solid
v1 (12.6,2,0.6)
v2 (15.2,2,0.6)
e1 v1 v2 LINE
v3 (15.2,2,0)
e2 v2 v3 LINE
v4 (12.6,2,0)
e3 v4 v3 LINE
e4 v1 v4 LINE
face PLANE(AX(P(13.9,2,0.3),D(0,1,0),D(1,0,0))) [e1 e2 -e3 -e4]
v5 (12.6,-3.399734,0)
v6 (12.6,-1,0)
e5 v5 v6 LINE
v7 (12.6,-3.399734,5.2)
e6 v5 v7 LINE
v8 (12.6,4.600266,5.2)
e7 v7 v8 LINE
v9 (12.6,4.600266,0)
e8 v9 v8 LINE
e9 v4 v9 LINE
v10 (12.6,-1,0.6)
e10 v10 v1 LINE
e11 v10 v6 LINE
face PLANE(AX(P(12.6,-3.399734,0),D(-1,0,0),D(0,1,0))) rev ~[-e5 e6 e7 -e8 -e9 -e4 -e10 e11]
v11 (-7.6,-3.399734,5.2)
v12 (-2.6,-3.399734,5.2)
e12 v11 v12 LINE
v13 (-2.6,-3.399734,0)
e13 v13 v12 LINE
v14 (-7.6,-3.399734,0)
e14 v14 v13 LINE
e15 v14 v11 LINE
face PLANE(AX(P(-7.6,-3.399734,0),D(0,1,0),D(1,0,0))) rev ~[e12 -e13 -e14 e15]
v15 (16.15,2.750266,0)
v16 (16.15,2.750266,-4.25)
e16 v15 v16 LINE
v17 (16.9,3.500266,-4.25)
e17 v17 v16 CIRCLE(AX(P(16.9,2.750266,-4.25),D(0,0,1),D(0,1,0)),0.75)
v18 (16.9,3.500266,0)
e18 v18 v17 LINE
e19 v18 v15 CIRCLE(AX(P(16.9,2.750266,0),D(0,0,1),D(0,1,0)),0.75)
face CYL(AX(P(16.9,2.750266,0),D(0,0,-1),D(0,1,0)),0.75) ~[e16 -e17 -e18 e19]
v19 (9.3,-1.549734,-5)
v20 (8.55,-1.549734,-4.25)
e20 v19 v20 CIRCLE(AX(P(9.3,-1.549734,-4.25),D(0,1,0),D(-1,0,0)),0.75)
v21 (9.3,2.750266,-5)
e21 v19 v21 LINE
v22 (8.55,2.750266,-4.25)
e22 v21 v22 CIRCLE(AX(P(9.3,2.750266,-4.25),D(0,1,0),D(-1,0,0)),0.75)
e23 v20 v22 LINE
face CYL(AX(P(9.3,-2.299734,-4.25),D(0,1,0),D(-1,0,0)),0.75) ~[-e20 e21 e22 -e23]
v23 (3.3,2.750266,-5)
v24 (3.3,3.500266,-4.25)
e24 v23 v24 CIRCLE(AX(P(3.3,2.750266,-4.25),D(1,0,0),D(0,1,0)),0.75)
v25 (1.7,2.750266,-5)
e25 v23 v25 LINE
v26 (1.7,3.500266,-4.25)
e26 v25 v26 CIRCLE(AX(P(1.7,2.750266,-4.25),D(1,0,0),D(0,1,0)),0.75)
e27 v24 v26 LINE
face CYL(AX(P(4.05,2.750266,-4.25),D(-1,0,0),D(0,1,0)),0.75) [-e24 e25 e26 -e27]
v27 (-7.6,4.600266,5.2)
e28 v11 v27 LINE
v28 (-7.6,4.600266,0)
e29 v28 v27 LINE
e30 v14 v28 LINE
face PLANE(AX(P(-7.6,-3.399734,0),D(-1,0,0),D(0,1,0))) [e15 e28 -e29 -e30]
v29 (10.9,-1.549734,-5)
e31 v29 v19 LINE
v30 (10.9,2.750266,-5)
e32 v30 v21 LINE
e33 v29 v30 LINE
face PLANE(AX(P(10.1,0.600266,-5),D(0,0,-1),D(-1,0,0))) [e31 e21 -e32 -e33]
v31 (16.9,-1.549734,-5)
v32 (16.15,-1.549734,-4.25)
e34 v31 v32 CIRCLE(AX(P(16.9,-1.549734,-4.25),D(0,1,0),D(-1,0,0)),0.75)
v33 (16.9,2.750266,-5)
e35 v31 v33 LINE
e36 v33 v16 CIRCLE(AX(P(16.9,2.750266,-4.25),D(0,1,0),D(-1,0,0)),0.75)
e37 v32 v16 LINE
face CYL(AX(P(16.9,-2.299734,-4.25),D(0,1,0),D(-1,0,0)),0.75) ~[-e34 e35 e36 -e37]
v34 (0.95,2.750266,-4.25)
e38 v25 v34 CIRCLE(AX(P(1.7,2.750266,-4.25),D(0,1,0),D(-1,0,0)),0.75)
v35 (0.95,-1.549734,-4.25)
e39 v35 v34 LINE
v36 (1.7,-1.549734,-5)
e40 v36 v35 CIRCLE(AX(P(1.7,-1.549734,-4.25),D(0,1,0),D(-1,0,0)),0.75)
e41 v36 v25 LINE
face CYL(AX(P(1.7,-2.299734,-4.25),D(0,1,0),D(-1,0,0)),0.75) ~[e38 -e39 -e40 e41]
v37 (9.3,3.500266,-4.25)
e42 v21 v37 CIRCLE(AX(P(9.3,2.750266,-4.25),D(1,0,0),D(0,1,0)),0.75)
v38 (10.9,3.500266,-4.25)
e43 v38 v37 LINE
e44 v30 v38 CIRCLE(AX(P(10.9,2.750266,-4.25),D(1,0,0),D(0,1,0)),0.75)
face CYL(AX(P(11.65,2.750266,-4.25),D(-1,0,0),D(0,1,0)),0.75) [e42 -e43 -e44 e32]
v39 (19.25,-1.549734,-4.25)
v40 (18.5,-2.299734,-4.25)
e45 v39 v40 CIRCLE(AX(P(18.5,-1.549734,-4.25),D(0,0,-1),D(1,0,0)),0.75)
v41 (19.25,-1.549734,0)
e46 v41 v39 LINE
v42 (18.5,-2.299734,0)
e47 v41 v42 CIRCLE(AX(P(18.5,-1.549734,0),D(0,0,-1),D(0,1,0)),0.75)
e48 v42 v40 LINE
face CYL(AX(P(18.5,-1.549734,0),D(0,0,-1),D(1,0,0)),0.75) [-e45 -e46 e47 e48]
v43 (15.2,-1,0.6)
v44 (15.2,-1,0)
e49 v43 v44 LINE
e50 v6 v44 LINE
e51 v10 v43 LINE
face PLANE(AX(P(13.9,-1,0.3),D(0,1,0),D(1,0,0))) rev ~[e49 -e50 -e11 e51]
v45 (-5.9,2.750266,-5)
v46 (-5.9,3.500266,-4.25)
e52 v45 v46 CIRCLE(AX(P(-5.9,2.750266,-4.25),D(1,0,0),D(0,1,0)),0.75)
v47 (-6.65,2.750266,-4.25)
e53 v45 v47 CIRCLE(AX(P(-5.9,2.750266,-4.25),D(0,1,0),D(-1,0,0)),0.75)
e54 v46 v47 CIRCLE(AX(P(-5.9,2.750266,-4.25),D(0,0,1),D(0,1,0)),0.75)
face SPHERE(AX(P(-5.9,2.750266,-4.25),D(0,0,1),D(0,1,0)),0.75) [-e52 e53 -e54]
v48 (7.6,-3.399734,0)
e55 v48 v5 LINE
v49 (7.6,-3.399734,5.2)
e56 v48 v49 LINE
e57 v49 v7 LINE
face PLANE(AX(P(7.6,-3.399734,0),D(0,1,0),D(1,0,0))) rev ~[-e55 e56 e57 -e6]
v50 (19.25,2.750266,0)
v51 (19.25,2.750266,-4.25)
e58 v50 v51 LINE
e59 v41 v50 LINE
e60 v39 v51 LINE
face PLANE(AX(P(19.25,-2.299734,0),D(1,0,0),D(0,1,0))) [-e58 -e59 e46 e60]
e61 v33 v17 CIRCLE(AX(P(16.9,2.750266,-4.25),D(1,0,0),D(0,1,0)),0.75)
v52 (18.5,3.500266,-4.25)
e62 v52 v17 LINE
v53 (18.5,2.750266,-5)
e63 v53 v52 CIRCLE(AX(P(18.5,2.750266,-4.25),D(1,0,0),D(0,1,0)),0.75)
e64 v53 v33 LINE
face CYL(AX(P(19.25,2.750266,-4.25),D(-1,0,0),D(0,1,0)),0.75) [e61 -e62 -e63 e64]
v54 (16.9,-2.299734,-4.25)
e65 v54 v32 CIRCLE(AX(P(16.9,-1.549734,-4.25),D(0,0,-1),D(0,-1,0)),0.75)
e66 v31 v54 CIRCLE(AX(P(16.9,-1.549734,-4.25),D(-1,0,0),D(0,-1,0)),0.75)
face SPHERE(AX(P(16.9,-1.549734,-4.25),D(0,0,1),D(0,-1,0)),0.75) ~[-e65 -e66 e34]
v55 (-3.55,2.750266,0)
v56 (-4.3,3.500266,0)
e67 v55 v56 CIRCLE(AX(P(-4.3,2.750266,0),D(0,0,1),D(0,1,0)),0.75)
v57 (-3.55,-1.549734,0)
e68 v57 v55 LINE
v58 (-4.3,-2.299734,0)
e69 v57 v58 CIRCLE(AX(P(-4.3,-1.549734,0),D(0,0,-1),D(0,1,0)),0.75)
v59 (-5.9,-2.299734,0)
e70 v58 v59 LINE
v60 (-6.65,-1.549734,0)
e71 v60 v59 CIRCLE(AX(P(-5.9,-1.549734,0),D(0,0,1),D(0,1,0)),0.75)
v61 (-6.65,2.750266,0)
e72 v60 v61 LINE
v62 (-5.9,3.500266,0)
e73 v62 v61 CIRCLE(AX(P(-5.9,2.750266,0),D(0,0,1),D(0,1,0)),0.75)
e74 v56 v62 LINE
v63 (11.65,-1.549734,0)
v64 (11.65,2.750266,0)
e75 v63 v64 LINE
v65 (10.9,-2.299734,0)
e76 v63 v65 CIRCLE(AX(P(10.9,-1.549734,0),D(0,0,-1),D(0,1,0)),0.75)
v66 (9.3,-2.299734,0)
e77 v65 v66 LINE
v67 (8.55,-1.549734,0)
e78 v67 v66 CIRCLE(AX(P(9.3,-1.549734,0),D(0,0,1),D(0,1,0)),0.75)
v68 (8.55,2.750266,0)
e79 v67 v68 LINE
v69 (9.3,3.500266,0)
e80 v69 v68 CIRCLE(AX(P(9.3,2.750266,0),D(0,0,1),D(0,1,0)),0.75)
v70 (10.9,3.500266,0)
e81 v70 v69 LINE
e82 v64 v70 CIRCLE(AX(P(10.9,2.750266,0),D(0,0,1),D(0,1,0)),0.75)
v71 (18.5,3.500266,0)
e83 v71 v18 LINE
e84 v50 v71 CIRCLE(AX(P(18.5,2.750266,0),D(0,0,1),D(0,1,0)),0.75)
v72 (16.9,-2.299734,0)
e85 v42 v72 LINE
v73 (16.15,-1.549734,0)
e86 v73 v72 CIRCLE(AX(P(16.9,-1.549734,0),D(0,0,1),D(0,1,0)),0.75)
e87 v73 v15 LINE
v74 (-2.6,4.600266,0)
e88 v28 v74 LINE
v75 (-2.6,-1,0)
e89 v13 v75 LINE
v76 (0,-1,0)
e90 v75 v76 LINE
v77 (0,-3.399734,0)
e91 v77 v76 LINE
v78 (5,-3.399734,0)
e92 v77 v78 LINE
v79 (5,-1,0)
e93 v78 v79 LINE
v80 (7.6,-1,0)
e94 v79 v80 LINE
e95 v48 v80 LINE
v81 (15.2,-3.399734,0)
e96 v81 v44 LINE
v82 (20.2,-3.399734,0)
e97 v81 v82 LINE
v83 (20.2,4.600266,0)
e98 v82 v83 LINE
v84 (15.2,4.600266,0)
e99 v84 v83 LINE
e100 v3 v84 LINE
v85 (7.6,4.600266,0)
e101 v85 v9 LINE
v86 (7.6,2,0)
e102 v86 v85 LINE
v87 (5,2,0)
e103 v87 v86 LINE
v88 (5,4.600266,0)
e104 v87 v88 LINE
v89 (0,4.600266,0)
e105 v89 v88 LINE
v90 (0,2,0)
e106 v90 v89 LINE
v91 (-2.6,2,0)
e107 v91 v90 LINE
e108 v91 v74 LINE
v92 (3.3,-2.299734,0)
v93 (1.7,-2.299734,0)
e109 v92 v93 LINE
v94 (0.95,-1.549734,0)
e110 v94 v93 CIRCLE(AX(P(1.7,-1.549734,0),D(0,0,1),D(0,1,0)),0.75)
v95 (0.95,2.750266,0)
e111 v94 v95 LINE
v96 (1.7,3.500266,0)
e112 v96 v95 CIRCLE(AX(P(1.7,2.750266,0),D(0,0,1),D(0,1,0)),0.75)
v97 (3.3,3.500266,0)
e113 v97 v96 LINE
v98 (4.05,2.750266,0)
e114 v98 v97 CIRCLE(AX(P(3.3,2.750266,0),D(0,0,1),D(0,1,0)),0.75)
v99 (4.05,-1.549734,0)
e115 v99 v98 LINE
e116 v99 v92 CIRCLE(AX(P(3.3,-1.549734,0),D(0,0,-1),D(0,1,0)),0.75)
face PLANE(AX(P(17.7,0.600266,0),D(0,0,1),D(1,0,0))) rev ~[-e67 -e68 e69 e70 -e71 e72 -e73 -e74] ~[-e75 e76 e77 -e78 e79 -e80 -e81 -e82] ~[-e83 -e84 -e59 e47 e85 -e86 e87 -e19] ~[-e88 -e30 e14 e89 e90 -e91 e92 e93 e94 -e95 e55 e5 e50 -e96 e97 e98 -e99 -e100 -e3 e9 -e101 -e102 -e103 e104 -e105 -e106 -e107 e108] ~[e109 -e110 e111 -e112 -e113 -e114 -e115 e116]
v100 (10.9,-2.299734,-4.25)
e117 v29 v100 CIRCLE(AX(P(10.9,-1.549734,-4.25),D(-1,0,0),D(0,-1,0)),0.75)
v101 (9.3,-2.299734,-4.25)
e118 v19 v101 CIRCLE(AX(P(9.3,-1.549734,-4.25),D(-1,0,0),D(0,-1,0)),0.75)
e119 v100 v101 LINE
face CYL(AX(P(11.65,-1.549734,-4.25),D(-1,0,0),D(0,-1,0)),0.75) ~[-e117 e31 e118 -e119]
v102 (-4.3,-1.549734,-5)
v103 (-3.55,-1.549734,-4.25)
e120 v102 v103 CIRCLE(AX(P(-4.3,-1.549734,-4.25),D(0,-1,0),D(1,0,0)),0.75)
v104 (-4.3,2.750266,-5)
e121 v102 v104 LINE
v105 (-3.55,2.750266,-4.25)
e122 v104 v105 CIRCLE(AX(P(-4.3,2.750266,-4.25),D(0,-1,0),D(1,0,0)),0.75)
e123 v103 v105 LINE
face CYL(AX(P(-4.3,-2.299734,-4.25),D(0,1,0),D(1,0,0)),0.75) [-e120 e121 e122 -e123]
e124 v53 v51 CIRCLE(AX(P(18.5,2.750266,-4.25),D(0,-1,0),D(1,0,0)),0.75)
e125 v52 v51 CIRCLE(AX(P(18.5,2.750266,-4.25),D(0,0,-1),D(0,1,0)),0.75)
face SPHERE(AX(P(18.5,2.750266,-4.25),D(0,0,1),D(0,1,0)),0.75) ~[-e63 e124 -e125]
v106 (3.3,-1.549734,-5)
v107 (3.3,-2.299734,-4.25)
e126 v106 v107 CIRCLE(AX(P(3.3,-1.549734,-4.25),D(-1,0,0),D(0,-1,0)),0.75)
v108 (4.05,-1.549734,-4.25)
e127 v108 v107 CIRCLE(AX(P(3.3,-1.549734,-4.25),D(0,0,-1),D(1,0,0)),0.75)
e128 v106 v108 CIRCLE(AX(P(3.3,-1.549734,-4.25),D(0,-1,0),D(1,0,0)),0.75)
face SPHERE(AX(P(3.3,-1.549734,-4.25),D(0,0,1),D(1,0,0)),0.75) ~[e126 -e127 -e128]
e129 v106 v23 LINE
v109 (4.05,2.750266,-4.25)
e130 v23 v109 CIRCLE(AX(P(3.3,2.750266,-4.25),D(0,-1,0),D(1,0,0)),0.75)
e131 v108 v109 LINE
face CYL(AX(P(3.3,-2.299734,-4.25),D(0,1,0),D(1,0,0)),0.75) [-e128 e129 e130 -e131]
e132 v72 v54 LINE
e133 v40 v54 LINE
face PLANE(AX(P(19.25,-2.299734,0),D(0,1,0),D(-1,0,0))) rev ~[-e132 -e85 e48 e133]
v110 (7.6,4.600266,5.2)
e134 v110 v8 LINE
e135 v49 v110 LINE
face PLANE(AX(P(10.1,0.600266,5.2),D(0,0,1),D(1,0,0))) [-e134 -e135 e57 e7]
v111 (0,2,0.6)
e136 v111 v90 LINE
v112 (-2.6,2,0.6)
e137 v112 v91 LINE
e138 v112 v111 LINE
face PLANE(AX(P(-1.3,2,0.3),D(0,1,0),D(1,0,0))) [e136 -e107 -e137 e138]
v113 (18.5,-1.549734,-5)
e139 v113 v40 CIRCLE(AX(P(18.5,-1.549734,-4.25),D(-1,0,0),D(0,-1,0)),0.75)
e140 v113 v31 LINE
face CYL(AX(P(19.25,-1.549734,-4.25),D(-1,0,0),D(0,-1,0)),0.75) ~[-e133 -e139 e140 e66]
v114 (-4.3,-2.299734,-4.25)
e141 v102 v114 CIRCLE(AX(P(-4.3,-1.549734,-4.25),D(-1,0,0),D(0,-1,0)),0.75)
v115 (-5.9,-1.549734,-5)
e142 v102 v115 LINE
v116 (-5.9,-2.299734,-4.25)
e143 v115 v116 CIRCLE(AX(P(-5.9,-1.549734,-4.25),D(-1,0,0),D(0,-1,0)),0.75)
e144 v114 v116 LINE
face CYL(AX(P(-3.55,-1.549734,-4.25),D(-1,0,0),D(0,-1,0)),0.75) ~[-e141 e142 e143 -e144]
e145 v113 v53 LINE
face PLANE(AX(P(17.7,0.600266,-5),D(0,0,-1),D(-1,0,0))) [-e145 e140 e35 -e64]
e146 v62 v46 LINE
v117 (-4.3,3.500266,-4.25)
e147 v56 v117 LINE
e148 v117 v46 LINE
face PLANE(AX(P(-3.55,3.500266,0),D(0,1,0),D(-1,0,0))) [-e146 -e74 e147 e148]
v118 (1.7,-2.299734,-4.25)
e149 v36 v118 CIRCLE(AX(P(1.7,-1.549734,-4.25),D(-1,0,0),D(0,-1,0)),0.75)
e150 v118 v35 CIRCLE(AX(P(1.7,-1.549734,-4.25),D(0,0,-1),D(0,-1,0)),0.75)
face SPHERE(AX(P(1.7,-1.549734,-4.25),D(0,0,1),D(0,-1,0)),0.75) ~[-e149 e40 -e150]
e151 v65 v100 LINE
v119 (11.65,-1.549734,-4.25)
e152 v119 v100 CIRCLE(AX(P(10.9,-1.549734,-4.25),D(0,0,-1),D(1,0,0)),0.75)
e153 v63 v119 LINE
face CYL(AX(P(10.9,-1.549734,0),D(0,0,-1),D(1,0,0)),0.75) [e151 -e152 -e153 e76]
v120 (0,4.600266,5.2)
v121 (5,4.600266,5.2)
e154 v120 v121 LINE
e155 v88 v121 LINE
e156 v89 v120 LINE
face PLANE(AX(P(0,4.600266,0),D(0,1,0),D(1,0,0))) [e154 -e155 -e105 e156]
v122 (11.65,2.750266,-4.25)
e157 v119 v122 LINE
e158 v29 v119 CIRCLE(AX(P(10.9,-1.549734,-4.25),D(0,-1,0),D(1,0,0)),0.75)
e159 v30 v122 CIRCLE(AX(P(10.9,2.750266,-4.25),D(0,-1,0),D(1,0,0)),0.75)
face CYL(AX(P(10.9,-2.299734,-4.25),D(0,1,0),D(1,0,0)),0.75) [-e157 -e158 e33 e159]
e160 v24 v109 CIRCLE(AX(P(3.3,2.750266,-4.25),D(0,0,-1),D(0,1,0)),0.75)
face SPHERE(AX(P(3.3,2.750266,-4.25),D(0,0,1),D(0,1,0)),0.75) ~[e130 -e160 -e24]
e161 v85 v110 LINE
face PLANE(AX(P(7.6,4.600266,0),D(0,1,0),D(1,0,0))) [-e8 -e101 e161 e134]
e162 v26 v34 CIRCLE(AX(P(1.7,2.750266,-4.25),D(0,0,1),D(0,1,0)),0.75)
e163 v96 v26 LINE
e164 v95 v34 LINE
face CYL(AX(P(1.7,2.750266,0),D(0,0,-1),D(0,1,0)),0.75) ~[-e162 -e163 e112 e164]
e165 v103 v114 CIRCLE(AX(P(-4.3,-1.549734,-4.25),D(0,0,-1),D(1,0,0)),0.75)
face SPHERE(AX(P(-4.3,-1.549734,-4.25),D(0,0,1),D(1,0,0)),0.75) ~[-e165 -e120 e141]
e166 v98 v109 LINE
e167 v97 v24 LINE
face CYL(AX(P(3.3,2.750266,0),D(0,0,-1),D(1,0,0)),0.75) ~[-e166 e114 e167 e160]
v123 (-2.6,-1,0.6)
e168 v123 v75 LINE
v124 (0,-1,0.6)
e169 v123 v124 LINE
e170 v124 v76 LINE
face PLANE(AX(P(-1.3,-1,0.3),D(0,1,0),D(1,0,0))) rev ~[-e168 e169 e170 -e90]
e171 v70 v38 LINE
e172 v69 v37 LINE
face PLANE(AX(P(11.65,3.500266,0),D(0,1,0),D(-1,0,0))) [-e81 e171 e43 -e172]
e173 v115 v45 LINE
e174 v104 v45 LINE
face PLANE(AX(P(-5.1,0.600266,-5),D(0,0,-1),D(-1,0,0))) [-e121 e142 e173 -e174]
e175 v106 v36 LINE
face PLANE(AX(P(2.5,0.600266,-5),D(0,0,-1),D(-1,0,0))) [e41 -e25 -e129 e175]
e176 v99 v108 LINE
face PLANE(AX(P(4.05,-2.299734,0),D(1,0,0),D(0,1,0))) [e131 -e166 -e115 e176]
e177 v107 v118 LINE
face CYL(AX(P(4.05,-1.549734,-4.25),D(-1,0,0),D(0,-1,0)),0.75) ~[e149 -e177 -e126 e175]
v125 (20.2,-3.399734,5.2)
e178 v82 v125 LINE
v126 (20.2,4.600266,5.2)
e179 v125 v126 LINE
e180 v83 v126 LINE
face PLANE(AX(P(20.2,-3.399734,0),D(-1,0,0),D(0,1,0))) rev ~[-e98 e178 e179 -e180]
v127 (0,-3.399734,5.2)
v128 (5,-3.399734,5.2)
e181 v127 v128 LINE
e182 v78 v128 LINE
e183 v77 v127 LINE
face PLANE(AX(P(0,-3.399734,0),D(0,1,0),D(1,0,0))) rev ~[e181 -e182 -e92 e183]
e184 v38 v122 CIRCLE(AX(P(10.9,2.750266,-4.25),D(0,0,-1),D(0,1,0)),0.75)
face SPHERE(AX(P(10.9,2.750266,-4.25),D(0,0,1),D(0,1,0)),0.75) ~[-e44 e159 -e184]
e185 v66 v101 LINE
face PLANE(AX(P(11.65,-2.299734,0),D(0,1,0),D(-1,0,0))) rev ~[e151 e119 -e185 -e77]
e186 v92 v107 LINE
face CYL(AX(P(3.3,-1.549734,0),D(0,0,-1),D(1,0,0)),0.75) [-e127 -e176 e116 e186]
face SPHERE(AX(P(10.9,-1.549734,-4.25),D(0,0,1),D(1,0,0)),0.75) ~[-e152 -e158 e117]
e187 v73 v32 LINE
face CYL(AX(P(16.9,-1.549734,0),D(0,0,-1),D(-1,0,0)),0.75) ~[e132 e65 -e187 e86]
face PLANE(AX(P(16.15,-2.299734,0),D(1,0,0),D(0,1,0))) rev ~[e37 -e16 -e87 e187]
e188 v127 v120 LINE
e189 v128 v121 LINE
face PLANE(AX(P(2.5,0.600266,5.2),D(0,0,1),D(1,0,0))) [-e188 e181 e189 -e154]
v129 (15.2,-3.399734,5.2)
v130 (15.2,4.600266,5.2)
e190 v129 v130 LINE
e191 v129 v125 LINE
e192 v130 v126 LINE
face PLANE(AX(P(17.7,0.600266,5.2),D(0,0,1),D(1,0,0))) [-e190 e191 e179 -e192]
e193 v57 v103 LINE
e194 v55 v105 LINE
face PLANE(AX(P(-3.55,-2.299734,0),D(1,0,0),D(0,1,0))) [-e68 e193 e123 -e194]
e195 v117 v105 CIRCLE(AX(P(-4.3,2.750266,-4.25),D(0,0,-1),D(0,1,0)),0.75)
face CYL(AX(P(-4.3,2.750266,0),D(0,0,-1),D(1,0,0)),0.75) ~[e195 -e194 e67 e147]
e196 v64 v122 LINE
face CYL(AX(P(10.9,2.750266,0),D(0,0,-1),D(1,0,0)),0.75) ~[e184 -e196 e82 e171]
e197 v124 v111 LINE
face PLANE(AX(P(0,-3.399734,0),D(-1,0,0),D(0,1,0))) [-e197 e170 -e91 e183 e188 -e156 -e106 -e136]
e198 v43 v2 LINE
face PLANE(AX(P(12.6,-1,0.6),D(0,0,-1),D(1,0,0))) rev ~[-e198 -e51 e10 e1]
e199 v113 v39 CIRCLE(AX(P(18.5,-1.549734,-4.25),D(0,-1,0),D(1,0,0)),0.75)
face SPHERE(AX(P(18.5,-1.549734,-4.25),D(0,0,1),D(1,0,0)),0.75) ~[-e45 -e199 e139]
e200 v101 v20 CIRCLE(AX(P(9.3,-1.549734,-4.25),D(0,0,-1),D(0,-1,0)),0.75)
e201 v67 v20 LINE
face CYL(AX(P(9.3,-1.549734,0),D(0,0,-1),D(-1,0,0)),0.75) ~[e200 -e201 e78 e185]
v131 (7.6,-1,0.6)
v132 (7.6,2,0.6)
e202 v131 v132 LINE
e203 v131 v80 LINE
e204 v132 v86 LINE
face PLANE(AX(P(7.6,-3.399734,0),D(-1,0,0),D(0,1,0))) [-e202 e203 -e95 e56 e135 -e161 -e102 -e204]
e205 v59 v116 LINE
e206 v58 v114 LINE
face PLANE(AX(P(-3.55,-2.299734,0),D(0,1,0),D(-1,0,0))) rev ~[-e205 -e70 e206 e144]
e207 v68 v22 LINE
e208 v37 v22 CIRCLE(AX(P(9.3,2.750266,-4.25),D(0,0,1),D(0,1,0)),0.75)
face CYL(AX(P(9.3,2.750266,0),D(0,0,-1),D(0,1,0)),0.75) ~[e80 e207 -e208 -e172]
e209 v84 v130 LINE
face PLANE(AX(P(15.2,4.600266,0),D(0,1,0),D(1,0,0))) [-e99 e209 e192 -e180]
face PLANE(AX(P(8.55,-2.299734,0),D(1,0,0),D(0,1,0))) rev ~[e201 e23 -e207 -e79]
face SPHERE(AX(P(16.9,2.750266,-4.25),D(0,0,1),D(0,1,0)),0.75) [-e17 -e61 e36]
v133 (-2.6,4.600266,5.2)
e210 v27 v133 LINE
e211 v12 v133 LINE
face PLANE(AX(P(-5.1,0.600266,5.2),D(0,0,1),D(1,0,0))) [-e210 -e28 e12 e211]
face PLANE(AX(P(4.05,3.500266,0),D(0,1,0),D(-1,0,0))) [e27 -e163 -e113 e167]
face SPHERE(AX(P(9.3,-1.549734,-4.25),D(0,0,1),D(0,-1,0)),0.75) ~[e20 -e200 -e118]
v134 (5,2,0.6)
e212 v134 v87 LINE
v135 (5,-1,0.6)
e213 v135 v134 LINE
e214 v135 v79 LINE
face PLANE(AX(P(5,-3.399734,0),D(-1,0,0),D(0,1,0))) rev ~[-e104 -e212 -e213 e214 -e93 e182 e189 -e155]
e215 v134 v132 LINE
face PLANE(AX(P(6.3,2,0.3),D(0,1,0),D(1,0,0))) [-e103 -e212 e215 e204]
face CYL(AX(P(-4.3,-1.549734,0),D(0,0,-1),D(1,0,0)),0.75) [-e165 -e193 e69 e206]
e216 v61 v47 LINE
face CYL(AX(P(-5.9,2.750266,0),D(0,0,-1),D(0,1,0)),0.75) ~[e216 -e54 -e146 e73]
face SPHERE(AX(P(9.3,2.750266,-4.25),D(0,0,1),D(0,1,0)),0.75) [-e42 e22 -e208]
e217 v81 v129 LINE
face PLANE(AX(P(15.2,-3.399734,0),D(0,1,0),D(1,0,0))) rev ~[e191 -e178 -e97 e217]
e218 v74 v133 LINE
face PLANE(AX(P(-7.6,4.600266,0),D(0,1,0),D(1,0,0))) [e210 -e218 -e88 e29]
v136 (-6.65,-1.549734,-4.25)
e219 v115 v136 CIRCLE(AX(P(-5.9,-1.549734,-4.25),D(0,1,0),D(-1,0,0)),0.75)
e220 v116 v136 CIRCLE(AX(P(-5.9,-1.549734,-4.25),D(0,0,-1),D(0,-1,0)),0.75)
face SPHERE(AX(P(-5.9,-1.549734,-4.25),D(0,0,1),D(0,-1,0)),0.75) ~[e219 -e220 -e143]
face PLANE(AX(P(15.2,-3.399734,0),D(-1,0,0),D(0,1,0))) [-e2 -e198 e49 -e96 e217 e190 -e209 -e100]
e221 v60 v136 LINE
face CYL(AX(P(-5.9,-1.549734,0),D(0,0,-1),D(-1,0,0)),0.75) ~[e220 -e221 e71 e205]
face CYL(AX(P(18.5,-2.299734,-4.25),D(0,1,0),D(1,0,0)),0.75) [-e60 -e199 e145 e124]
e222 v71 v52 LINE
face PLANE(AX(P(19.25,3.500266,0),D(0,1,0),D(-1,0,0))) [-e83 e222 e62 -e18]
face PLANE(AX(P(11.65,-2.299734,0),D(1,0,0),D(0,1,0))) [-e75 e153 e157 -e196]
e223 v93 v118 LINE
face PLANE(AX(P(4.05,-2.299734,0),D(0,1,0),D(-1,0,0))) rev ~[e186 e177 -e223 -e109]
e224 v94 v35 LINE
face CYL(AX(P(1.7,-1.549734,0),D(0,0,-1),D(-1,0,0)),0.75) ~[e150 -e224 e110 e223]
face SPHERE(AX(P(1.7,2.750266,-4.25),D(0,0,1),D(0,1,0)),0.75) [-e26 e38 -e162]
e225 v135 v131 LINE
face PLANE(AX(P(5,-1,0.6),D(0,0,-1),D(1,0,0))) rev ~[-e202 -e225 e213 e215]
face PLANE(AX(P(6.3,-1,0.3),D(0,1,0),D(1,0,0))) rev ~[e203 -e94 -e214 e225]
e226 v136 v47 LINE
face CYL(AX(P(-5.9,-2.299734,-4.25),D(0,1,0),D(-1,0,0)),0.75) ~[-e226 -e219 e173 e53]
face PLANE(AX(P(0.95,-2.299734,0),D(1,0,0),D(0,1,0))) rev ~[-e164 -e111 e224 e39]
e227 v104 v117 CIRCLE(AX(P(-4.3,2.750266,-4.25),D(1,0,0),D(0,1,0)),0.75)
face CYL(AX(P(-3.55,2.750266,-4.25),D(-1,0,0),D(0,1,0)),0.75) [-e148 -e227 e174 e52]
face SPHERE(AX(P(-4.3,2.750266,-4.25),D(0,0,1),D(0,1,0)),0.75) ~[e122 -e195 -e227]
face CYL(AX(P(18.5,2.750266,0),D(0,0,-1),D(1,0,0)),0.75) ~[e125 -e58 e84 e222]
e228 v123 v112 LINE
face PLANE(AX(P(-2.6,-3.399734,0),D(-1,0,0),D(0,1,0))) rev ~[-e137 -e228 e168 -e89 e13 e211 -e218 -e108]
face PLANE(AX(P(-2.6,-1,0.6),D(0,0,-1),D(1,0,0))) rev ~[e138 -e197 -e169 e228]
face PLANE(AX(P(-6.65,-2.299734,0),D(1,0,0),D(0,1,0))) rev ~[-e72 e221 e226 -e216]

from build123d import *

# Parameters (mm, degrees)
SKETCH_1_W           = 5
SKETCH_1_H           = 8
EXTRUDE_1_DEPTH      = 5.2
EXTRUDE_1_2_DEPTH    = 5.2
EXTRUDE_1_3_DEPTH    = 5.2
EXTRUDE_1_4_DEPTH    = 5.2
SKETCH_2_W           = 3.1
SKETCH_2_H           = 5.8
EXTRUDE_2_DEPTH      = 5
EXTRUDE_3_DEPTH      = 2
EXTRUDE_3_DEPTH_BACK = 1
SKETCH_3_W           = 2.6
SKETCH_3_H           = 0.6
FILLET_1_R           = 0.75


with BuildPart() as part:
    # 草图1 → 凸台-拉伸1 (new body)
    with BuildSketch(Plane.XY):
        with Locations((2.5, 0.600266138)):
            Rectangle(SKETCH_1_W, SKETCH_1_H)
    extrude(amount=EXTRUDE_1_DEPTH)



with BuildPart() as body_2:
    # 草图1 → Extrude 1 2 (new body)
    with BuildSketch(Plane.XY):
        with Locations((-5.1, 0.600266138)):
            Rectangle(SKETCH_1_W, SKETCH_1_H)
    extrude(amount=EXTRUDE_1_2_DEPTH)


with BuildPart() as body_3:
    # 草图1 → Extrude 1 3 (new body)
    with BuildSketch(Plane.XY):
        with Locations((10.1, 0.600266138)):
            Rectangle(SKETCH_1_W, SKETCH_1_H)
    extrude(amount=EXTRUDE_1_3_DEPTH)


with BuildPart() as body_4:
    # 草图1 → Extrude 1 4 (new body)
    with BuildSketch(Plane.XY):
        with Locations((17.7, 0.600266138)):
            Rectangle(SKETCH_1_W, SKETCH_1_H)
    extrude(amount=EXTRUDE_1_4_DEPTH)


with BuildPart() as part_1:
    add(part.part)

    add(body_2.part)  # 凸台-拉伸2 merges body 2

    add(body_3.part)  # 凸台-拉伸2 merges body 3

    add(body_4.part)  # 凸台-拉伸2 merges body 4
    # 草图2 → 凸台-拉伸2 (add)
    with BuildSketch(Plane(origin=(0, 0, 0), x_dir=(-1, 0, 0), z_dir=(0, 0, -1))):
        with Locations((-17.7, 0.600266138)):
            Rectangle(SKETCH_2_W, SKETCH_2_H)
        with Locations((-10.1, 0.600266138)):
            Rectangle(SKETCH_2_W, SKETCH_2_H)
        with Locations((-2.5, 0.600266138)):
            Rectangle(SKETCH_2_W, SKETCH_2_H)
        with Locations((5.1, 0.600266138)):
            Rectangle(SKETCH_2_W, SKETCH_2_H)
    extrude(amount=EXTRUDE_2_DEPTH)

    # 草图3 → 凸台-拉伸3 (add, two sides: drawn at the far end of the back side and taken through both)
    with BuildSketch(Plane(origin=(0, 0, 0), x_dir=(1, 0, 0), z_dir=(0, 1, 0)).offset(-EXTRUDE_3_DEPTH_BACK)):
        with Locations((-1.3, -0.3)):
            Rectangle(SKETCH_3_W, SKETCH_3_H)
        with Locations((6.3, -0.3)):
            Rectangle(SKETCH_3_W, SKETCH_3_H)
        with Locations((13.9, -0.3)):
            Rectangle(SKETCH_3_W, SKETCH_3_H)
    extrude(amount=EXTRUDE_3_DEPTH + EXTRUDE_3_DEPTH_BACK)

    # 圆角1
    fillet_1_edges = [part_1.edges().sort_by_distance(p)[0] for p in [
        (16.15, 3.500266138, -2.5),
        (19.25, 3.500266138, -2.5),
        (19.25, -2.299733862, -2.5),
        (16.15, -2.299733862, -2.5),
        (17.7, 3.500266138, -5),
        (19.25, 0.600266138, -5),
        (17.7, -2.299733862, -5),
        (16.15, 0.600266138, -5),
        (-6.65, 3.500266138, -2.5),
        (-3.55, 3.500266138, -2.5),
        (-3.55, -2.299733862, -2.5),
        (-6.65, -2.299733862, -2.5),
        (-5.1, 3.500266138, -5),
        (-3.55, 0.600266138, -5),
        (-5.1, -2.299733862, -5),
        (-6.65, 0.600266138, -5),
        (0.95, 3.500266138, -2.5),
        (4.05, 3.500266138, -2.5),
        (4.05, -2.299733862, -2.5),
        (0.95, -2.299733862, -2.5),
        (2.5, 3.500266138, -5),
        (4.05, 0.600266138, -5),
        (2.5, -2.299733862, -5),
        (0.95, 0.600266138, -5),
        (8.55, 3.500266138, -2.5),
        (11.65, 3.500266138, -2.5),
        (11.65, -2.299733862, -2.5),
        (8.55, -2.299733862, -2.5),
        (10.1, 3.500266138, -5),
        (11.65, 0.600266138, -5),
        (10.1, -2.299733862, -5),
        (8.55, 0.600266138, -5),
    ]]
    fillet(fillet_1_edges, radius=FILLET_1_R)


solid = part_1.part
